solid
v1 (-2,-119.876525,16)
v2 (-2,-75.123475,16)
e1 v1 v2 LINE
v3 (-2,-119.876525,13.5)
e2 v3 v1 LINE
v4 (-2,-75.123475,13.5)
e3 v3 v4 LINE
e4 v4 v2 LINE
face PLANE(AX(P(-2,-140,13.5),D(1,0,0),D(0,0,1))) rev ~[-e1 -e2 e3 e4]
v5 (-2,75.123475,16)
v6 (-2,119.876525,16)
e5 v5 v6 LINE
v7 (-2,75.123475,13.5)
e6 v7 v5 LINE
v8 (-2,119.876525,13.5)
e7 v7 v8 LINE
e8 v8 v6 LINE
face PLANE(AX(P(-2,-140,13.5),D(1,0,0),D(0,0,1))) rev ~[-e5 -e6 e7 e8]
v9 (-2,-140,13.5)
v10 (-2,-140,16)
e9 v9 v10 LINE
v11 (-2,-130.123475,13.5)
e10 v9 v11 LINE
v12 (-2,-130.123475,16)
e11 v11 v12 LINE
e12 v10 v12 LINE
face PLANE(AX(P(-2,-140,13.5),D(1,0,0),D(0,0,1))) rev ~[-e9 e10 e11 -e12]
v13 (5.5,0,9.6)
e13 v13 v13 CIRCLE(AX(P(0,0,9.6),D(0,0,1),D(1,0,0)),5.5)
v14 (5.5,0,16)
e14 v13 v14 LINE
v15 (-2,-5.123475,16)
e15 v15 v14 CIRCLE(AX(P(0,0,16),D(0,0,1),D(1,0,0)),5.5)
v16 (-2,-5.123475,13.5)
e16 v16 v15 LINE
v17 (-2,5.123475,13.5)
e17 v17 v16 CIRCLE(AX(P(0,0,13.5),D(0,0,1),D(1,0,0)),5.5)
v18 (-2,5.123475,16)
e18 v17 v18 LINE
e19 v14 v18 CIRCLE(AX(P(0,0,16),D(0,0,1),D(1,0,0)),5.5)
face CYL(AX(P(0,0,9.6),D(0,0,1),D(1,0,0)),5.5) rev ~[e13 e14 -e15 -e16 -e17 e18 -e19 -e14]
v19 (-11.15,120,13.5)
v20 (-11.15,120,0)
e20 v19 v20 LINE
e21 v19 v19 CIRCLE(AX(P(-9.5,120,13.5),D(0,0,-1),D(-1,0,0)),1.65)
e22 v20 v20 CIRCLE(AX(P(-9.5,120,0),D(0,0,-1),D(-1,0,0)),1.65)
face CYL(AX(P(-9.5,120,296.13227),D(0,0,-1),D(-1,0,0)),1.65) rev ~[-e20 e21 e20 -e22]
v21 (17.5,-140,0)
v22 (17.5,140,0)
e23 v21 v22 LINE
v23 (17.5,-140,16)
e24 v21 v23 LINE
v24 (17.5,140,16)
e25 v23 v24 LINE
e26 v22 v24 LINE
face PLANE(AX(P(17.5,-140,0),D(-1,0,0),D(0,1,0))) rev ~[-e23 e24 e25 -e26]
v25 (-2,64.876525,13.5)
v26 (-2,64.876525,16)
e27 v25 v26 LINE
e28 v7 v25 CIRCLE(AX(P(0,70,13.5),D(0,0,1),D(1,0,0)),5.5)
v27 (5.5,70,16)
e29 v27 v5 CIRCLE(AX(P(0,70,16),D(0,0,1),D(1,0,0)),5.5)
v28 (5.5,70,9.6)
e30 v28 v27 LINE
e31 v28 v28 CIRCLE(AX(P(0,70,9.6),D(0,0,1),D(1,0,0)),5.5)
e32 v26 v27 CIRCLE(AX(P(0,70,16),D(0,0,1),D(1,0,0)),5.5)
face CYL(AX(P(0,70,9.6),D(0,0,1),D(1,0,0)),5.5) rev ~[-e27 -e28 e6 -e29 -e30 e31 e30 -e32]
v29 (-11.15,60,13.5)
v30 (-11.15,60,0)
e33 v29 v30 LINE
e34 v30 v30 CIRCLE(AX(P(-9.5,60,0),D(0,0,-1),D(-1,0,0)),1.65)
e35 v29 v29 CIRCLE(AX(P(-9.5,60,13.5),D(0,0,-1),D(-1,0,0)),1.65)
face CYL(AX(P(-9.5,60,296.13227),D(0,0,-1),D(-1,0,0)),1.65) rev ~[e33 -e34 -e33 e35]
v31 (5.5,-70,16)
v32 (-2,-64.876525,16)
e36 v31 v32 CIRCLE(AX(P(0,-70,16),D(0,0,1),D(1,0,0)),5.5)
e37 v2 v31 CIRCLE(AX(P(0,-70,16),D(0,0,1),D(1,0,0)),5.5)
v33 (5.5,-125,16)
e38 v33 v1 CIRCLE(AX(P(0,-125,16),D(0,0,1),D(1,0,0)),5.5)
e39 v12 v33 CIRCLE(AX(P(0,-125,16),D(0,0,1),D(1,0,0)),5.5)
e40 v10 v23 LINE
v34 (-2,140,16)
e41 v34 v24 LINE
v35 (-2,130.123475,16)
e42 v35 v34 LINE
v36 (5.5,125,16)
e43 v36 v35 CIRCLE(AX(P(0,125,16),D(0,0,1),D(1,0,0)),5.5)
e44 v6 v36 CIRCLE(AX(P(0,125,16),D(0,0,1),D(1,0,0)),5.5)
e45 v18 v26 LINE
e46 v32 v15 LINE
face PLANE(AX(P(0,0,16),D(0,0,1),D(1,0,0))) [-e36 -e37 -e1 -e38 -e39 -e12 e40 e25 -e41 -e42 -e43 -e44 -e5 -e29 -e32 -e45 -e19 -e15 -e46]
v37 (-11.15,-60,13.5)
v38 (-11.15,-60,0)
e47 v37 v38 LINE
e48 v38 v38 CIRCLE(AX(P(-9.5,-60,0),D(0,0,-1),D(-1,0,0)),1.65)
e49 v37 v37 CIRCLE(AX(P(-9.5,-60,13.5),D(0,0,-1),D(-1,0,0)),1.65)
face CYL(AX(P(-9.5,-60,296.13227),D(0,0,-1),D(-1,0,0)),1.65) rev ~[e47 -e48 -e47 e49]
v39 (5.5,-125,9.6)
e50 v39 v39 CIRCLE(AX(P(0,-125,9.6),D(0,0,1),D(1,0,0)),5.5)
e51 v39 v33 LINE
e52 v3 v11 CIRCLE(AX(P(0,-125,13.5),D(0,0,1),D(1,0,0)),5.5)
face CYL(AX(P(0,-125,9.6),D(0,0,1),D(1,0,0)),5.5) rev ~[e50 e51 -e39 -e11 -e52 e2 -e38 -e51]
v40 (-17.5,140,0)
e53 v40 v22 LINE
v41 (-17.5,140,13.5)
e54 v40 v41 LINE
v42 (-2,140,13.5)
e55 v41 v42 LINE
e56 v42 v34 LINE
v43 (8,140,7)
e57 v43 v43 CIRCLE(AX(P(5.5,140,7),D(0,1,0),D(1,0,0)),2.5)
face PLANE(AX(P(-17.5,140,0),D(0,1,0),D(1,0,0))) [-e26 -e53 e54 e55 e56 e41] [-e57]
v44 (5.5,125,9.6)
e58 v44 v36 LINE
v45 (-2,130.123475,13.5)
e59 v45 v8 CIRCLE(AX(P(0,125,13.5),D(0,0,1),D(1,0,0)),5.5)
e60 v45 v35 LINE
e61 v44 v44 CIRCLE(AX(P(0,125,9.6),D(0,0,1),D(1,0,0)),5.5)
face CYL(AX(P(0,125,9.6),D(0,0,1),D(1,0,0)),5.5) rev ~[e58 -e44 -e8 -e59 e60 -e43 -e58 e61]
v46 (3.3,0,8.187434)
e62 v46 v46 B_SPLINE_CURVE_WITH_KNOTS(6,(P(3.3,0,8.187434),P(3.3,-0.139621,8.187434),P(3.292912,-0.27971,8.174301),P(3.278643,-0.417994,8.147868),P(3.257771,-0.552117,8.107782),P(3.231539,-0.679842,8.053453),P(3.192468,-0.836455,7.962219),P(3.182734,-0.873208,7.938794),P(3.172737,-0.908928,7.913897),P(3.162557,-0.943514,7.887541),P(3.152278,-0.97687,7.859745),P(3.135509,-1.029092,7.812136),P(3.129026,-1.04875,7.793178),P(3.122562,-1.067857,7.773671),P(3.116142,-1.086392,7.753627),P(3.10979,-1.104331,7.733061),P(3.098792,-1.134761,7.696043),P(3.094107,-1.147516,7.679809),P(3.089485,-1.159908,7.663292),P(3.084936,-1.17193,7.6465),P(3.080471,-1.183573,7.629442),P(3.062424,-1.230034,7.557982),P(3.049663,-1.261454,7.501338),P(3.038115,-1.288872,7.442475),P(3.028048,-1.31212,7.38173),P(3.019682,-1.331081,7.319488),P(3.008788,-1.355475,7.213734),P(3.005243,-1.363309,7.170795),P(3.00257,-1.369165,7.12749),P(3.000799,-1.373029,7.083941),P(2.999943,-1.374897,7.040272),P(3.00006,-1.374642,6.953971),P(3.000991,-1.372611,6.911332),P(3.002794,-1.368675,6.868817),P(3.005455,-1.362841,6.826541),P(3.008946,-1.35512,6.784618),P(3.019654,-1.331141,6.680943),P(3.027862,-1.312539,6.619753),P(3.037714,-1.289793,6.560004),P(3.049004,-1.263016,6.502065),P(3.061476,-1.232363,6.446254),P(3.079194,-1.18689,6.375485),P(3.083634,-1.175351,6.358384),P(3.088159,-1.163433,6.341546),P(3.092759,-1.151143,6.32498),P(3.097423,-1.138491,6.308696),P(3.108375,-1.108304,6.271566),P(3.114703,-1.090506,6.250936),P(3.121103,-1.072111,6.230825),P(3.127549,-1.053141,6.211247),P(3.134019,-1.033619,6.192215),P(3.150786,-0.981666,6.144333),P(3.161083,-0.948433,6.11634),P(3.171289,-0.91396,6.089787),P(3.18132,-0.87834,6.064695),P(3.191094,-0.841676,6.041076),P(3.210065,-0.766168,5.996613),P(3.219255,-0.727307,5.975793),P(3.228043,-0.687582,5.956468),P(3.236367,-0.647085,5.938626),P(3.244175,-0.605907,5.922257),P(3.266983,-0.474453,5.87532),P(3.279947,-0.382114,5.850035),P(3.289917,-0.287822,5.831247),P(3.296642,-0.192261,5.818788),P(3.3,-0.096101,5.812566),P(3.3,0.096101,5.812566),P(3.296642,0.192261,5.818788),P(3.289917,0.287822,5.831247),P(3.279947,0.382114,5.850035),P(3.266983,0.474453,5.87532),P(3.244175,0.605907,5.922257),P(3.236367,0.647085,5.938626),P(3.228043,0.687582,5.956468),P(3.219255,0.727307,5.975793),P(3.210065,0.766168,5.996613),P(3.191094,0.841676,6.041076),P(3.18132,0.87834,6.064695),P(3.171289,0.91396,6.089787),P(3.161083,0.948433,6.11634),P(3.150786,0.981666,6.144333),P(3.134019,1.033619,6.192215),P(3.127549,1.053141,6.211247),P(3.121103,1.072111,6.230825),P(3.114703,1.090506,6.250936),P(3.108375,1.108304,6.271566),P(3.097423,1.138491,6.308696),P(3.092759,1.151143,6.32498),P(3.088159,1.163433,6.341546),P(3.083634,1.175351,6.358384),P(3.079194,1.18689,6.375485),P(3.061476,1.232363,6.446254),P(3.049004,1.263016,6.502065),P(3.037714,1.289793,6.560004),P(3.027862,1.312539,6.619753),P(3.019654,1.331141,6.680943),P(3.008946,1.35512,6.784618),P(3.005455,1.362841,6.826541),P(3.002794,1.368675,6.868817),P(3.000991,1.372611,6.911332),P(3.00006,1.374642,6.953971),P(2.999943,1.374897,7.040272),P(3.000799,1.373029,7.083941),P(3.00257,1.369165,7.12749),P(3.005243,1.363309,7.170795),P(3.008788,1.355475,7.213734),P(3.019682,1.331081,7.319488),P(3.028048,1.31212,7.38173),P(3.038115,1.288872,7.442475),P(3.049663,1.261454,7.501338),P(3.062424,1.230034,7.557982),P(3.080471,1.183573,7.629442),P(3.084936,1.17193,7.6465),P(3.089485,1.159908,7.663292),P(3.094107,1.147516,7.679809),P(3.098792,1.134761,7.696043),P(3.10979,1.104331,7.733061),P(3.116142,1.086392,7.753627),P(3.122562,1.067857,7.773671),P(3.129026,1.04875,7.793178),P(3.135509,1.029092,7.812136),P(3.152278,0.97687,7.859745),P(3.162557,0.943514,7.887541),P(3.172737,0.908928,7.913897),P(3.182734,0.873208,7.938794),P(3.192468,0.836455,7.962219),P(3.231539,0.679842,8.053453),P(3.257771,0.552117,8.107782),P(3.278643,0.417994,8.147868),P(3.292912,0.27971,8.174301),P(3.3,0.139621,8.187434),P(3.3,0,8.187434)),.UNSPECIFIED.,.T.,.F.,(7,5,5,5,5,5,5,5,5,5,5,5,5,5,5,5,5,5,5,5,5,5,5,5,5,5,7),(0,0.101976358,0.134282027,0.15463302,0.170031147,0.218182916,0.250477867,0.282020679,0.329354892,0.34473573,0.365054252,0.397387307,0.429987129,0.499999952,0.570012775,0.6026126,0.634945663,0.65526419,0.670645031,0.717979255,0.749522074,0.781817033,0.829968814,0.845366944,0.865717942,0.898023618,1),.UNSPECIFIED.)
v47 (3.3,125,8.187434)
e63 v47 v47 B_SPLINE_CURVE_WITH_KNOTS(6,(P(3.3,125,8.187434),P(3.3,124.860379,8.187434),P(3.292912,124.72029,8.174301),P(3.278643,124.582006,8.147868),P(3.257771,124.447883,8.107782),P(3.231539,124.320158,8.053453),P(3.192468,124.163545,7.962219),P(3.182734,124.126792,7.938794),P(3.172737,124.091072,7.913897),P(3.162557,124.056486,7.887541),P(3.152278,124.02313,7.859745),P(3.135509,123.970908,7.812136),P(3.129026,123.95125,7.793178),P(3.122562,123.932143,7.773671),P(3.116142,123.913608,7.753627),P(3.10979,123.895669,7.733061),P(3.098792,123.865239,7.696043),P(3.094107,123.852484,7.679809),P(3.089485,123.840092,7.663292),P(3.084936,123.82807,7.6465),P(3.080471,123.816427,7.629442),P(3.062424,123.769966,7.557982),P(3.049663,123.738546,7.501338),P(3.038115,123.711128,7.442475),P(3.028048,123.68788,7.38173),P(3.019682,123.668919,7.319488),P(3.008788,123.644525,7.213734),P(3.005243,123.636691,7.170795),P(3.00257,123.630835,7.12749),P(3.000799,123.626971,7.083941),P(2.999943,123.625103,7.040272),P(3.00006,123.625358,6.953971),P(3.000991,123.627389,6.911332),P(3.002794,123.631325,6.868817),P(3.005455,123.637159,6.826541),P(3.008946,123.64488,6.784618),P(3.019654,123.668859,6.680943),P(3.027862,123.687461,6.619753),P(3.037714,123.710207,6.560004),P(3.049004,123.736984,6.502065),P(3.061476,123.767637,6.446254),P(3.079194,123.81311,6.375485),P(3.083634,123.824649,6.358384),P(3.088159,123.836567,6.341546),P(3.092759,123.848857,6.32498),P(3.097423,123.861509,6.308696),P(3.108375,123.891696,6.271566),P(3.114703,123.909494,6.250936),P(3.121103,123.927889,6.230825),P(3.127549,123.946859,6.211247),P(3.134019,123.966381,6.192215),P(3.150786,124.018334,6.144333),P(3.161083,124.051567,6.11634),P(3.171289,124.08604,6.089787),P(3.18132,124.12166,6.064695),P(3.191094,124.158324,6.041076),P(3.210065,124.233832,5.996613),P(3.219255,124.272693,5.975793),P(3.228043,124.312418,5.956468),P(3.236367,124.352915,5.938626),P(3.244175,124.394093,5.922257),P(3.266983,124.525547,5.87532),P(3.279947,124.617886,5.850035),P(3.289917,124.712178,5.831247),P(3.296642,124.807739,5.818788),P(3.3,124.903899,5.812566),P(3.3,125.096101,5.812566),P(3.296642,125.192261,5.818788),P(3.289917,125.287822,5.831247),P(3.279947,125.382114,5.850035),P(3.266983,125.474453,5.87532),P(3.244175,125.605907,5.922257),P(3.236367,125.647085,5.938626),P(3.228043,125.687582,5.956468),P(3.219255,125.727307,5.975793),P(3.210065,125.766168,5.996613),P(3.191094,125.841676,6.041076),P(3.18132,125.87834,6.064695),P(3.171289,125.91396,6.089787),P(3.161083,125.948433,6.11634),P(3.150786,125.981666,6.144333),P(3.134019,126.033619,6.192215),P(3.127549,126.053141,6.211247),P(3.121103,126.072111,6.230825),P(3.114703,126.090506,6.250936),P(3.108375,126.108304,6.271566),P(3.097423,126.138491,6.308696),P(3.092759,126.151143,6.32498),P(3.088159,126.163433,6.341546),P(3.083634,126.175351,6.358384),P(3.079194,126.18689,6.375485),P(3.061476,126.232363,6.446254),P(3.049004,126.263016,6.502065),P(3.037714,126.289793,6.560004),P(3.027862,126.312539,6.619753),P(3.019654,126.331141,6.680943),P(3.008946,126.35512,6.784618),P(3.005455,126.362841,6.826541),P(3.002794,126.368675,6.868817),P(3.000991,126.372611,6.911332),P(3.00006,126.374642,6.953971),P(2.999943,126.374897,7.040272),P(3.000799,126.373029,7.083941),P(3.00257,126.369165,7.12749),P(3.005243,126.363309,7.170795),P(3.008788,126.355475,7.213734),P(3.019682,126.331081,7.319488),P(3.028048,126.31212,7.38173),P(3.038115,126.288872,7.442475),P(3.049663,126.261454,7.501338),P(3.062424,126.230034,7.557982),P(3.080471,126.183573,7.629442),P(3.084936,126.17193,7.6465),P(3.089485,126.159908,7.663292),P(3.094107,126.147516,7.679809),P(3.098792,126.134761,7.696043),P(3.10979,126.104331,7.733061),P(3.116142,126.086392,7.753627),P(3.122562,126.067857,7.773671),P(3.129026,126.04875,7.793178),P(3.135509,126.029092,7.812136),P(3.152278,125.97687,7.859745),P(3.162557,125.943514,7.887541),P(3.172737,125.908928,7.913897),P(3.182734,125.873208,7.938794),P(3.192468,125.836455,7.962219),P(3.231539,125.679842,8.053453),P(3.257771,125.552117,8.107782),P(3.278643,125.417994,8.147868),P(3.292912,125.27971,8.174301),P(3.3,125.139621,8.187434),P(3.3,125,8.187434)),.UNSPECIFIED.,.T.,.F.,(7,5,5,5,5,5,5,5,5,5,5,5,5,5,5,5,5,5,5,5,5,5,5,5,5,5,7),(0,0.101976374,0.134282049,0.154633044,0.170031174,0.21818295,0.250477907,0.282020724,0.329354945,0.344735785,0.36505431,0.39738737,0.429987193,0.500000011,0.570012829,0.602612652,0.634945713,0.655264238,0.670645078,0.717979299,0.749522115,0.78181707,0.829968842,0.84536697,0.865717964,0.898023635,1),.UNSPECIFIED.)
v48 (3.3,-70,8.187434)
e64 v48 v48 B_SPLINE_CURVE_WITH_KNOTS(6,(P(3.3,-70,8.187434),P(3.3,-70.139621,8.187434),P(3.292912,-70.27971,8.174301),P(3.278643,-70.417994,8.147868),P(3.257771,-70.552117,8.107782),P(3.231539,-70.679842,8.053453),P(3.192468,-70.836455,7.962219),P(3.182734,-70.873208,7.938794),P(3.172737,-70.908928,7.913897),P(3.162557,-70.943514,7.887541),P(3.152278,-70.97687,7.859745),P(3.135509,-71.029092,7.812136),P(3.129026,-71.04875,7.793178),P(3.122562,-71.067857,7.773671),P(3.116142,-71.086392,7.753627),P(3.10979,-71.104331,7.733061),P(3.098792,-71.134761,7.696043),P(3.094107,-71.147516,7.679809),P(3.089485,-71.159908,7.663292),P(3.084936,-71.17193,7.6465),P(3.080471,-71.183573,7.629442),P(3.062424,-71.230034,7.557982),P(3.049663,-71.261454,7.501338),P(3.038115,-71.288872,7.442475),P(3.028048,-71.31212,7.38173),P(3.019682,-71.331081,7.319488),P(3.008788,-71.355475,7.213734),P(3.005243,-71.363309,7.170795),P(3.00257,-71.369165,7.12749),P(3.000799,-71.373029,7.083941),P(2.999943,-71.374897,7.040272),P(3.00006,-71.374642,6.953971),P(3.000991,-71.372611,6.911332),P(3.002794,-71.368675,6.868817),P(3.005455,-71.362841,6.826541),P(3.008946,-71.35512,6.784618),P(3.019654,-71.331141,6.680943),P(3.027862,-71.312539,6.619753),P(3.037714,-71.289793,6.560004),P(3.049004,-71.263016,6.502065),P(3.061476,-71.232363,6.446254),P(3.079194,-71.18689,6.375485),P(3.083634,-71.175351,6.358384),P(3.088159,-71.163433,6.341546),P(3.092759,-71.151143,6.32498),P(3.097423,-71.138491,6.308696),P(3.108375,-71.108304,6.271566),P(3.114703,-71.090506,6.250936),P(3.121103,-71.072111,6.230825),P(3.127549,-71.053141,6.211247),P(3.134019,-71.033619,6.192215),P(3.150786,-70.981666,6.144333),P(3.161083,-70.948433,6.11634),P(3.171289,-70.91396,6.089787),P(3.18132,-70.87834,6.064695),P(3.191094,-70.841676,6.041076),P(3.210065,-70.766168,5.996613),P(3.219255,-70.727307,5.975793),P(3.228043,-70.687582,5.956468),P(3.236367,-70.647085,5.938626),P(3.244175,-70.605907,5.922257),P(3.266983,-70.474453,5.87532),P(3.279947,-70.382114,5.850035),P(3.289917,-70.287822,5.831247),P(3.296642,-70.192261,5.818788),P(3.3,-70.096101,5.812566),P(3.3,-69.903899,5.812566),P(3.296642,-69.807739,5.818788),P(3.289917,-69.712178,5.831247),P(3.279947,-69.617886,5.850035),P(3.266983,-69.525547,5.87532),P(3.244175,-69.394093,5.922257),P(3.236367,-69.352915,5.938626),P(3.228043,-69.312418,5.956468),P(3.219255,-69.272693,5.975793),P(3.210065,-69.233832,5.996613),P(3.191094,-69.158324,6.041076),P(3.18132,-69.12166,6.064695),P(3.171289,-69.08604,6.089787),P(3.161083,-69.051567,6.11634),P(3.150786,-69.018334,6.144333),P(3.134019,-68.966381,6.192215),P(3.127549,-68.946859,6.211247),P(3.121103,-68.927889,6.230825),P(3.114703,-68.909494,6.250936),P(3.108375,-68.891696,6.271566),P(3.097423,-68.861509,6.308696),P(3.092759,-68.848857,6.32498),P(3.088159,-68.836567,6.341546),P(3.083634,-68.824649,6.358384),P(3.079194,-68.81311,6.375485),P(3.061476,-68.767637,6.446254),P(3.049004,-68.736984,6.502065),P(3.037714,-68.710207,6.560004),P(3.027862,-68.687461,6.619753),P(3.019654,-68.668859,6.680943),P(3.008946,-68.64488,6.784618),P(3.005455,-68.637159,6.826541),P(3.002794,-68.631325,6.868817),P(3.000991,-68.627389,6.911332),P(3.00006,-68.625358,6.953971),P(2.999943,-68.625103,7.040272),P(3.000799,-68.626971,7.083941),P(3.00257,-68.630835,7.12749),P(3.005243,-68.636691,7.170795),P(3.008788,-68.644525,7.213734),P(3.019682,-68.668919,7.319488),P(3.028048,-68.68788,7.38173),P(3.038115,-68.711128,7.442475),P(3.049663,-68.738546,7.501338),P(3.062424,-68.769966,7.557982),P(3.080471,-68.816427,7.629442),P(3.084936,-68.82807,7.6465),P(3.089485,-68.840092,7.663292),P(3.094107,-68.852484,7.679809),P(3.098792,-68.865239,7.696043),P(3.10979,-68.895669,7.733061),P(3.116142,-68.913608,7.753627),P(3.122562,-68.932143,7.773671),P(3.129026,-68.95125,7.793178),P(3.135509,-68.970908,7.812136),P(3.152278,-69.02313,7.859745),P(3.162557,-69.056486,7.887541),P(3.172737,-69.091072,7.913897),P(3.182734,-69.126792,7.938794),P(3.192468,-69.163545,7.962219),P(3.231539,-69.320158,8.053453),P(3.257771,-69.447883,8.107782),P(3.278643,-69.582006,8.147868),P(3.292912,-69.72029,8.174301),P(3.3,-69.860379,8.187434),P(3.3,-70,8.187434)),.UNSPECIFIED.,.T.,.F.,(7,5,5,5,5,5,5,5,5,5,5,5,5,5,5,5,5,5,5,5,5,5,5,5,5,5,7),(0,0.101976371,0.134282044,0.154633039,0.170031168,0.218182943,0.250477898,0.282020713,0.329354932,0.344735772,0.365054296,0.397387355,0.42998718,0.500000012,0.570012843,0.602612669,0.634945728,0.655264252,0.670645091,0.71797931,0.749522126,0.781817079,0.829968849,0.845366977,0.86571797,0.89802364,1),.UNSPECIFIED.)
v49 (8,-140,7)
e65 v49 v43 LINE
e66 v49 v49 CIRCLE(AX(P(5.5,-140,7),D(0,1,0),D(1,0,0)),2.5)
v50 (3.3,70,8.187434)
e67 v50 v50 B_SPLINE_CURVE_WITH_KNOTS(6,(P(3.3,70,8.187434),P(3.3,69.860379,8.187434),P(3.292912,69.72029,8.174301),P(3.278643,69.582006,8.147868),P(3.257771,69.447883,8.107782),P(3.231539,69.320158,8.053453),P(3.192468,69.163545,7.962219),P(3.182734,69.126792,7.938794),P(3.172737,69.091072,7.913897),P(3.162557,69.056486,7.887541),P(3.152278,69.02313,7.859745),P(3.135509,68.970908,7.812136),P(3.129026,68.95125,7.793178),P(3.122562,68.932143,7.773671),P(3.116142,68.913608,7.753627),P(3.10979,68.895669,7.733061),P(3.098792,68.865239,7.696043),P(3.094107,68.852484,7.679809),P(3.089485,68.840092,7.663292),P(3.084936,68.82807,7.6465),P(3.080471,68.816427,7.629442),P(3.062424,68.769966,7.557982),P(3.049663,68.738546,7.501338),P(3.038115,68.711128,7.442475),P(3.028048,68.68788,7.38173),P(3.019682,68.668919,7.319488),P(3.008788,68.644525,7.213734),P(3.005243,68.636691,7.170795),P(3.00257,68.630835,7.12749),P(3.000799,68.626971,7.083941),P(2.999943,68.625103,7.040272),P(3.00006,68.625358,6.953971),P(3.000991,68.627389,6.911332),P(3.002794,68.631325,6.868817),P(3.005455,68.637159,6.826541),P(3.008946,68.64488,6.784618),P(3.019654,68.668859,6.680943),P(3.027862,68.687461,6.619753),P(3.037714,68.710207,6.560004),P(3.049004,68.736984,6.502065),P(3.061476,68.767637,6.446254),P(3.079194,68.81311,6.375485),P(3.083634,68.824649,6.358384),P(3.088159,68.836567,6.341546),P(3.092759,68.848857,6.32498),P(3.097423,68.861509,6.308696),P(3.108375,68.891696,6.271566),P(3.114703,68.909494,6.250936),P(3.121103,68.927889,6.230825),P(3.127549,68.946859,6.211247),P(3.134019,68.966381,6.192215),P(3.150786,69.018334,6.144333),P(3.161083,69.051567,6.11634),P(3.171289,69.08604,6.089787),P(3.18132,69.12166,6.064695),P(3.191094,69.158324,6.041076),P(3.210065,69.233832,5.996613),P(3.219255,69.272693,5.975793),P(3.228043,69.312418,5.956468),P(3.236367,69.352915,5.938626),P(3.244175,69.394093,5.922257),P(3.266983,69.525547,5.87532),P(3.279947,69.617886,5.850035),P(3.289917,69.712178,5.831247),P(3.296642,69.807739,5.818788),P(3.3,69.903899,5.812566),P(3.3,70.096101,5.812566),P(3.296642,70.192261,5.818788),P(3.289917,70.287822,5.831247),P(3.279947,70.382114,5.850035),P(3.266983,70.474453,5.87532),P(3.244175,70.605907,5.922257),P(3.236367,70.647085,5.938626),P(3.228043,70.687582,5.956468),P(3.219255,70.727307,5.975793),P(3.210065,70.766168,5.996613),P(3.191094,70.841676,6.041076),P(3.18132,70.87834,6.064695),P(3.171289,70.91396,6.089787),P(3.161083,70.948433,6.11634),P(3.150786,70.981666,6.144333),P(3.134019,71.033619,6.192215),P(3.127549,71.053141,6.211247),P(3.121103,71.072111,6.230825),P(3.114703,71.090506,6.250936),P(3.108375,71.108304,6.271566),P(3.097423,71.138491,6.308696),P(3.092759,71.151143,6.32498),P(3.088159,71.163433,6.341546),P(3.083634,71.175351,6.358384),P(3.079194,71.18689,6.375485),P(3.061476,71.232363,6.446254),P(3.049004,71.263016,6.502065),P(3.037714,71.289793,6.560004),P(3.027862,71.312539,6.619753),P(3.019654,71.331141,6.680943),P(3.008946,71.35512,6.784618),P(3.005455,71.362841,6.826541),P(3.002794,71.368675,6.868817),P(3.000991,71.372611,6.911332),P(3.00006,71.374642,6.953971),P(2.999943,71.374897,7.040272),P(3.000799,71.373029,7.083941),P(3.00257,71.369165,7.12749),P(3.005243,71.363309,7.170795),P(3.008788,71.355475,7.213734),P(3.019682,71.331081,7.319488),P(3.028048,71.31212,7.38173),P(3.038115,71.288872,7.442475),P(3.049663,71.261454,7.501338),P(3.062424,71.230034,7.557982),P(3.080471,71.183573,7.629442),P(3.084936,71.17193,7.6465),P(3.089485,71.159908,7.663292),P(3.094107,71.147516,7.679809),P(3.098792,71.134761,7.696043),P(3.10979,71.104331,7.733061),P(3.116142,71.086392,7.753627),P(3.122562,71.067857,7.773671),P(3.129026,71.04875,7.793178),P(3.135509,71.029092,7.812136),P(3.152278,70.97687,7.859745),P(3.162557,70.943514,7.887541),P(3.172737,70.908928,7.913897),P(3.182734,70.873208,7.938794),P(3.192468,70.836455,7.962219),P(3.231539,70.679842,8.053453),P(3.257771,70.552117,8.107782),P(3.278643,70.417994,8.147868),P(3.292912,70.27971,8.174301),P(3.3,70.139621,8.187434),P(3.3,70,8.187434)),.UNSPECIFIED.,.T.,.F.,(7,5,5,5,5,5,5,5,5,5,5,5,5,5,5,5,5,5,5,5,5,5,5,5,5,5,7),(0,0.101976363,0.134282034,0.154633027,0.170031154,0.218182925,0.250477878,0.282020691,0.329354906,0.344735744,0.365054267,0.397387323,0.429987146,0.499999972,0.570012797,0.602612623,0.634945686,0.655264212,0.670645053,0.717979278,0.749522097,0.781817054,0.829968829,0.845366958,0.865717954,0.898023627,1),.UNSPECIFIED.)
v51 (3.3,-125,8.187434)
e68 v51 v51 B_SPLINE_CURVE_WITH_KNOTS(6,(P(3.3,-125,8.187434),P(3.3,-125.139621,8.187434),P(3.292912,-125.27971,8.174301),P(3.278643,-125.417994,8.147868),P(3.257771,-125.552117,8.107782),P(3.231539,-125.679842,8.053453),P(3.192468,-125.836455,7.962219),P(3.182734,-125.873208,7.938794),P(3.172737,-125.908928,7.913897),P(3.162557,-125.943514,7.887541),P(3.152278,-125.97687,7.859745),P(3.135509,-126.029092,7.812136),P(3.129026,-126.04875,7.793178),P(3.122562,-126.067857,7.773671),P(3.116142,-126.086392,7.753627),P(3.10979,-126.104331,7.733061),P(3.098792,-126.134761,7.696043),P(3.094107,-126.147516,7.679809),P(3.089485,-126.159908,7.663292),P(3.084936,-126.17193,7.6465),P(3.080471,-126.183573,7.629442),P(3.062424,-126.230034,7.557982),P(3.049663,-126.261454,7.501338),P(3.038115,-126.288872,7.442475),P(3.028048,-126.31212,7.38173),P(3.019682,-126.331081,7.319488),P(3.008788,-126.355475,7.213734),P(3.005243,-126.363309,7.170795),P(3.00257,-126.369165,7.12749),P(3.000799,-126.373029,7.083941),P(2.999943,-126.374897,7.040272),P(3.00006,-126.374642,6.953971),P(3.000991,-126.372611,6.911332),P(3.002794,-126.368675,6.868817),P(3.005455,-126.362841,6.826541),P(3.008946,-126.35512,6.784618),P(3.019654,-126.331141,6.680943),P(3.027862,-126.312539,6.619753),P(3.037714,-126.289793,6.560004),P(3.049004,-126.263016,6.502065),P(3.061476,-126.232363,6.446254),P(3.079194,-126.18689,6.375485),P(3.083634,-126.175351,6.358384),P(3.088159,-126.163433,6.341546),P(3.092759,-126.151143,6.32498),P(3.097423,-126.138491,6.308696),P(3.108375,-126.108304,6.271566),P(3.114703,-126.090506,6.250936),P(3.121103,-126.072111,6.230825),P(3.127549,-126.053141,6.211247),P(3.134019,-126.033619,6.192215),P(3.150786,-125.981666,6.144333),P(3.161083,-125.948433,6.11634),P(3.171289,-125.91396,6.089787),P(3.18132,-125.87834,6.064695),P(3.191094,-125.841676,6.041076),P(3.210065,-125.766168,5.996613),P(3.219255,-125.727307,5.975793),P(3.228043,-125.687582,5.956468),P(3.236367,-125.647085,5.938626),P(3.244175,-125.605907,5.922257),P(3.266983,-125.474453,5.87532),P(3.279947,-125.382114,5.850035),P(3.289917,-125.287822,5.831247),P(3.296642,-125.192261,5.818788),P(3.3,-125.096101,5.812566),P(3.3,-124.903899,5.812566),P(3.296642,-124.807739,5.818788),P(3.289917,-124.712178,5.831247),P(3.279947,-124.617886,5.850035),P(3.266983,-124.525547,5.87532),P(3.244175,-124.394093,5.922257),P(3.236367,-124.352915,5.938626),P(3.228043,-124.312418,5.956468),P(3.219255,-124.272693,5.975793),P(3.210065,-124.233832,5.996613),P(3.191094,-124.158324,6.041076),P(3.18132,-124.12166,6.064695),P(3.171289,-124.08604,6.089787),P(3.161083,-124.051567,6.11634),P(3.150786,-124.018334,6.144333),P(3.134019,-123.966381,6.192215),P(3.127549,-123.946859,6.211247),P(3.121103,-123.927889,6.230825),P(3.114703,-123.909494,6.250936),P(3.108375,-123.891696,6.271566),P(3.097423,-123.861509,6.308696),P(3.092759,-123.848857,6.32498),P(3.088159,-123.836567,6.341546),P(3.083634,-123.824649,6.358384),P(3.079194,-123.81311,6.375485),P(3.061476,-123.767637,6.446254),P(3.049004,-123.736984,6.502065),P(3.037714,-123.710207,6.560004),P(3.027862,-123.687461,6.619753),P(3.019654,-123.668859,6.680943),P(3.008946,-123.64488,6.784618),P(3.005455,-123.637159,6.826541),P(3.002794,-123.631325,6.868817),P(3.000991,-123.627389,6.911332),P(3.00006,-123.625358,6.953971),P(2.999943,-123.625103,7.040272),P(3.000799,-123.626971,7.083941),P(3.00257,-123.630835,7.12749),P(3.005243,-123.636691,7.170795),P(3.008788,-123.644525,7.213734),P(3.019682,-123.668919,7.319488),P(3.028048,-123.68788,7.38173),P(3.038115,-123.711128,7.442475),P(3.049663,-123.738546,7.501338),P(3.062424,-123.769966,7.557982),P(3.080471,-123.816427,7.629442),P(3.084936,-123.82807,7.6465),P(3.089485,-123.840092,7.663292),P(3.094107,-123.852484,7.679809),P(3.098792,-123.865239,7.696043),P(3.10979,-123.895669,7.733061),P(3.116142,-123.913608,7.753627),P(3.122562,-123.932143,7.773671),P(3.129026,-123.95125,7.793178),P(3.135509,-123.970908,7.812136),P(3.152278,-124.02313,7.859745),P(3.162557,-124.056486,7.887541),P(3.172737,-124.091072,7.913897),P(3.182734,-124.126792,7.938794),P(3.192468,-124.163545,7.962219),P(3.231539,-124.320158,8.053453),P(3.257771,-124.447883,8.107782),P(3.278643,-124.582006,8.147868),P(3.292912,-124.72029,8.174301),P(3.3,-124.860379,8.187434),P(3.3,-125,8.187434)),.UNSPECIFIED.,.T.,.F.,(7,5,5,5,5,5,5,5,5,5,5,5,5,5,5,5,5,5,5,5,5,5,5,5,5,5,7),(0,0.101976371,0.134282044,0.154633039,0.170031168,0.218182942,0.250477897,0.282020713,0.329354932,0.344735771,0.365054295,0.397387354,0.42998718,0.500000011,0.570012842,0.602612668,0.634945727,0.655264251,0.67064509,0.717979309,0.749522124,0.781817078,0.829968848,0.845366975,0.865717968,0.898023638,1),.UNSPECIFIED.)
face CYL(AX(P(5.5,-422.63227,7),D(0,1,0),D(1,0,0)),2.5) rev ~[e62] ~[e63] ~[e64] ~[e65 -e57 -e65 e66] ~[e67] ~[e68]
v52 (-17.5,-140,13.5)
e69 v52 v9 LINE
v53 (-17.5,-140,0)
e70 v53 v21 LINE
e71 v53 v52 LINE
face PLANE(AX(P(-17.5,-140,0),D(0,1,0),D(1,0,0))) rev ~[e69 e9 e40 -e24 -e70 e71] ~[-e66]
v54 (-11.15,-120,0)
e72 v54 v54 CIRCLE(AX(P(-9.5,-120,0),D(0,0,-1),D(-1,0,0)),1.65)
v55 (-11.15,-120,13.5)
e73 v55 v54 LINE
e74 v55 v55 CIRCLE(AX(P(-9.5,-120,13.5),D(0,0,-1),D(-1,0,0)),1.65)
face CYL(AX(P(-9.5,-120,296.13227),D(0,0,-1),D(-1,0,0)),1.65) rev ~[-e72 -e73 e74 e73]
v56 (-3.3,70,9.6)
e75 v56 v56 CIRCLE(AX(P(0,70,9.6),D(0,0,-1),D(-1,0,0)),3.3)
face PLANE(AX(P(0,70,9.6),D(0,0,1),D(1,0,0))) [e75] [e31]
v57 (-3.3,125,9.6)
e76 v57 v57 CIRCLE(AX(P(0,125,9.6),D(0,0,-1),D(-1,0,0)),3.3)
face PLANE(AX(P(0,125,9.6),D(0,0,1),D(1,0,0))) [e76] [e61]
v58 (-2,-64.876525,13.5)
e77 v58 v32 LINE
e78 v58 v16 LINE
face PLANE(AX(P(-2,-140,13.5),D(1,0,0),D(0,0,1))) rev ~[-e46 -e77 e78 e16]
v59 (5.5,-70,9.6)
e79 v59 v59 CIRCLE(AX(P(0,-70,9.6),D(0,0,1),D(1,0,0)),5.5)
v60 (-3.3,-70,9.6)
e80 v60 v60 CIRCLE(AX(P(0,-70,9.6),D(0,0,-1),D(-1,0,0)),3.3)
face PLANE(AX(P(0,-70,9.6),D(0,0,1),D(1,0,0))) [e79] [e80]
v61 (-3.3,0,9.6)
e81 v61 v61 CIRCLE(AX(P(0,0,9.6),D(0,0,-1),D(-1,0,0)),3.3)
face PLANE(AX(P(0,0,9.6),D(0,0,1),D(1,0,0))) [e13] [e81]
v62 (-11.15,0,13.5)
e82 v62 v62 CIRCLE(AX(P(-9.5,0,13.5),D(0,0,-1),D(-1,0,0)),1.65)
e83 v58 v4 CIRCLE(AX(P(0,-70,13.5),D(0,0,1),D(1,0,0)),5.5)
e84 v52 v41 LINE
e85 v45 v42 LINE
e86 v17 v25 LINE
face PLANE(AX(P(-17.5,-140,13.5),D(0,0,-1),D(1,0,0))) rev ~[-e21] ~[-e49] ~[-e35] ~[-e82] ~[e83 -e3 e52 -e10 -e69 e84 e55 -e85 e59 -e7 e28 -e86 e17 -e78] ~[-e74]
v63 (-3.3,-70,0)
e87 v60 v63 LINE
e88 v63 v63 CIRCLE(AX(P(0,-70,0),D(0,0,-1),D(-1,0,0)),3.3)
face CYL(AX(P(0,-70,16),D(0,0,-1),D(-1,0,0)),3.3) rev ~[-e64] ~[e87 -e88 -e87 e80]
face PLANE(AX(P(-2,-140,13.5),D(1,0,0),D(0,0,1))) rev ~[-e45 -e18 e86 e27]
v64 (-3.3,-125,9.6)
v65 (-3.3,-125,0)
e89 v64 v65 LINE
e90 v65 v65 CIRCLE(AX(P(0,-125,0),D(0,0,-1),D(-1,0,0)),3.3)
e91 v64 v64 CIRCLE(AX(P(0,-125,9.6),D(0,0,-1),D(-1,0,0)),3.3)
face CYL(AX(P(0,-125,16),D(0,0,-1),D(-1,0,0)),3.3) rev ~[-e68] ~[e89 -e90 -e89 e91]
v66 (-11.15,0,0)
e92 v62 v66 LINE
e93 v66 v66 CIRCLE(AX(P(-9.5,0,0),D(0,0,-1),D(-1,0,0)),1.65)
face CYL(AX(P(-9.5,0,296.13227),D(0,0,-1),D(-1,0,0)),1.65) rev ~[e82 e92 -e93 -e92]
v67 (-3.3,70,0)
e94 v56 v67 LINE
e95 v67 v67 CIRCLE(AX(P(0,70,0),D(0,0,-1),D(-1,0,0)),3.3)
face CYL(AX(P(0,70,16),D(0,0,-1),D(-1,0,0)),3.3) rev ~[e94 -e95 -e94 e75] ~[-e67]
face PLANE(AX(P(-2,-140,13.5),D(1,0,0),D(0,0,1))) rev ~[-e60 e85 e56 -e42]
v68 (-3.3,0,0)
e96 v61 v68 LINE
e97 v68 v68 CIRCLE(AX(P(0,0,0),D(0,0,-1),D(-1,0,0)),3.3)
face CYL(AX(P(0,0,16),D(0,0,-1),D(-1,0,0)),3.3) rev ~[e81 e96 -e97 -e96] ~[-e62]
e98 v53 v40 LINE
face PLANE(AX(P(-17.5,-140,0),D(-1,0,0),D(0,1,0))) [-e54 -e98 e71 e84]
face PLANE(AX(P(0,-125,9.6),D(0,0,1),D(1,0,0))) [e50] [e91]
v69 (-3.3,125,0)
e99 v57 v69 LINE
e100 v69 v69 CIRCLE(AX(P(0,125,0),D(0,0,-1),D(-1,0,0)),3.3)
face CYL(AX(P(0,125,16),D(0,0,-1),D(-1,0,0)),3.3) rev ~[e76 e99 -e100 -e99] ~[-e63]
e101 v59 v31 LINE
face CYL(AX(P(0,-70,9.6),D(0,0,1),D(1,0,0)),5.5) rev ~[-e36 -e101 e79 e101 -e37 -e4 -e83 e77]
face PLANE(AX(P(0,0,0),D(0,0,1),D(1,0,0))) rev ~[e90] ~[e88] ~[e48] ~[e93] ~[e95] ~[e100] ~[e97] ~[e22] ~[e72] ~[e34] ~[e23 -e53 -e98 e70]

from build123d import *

# Parameters (mm, degrees)
SKETCH1_W                                           = 35
SKETCH1_H                                           = 280
EXTRUDE1_DEPTH                                      = 16
EXTRUDE2_REACH                                      = 282
SKETCH2_W                                           = 15.5
SKETCH2_H                                           = 2.5
M4_TAPPED_HOLE1_D                                   = 3.3
M6_TAPPED_HOLE1_D                                   = 5
CBORE_FOR_M6_HEX_SOCKET_HEAD_CAP_SCREW1_D           = 6.6
CBORE_FOR_M6_HEX_SOCKET_HEAD_CAP_SCREW1_DEPTH       = 29
CBORE_FOR_M6_HEX_SOCKET_HEAD_CAP_SCREW1_CBORE_D     = 11
CBORE_FOR_M6_HEX_SOCKET_HEAD_CAP_SCREW1_CBORE_DEPTH = 6.4
CBORE_FOR_M6_HEX_SOCKET_HEAD_CAP_SCREW1_TIP         = 1.982840043


with BuildPart() as part:
    # Sketch1 → Extrude1 (new body)
    with BuildSketch(Plane.XY):
        Rectangle(SKETCH1_W, SKETCH1_H)
    extrude(amount=EXTRUDE1_DEPTH)

    # Sketch2 → Extrude2 (cut, up to next)
    with BuildSketch(Plane.XZ.offset(140), mode=Mode.PRIVATE) as extrude2_sk1:
        with Locations((-9.75, 14.75)):
            Rectangle(SKETCH2_W, SKETCH2_H)
    extrude2_tool1 = extrude(extrude2_sk1.sketch, amount=-EXTRUDE2_REACH, mode=Mode.PRIVATE) & part.part
    add(extrude2_tool1.solids().sort_by_distance((-9.75, -140, 14.75))[0], mode=Mode.SUBTRACT)

    # M4 Tapped Hole1 (through all)
    with Locations(Plane.XY.offset(13.5)):
        with Locations((-9.5, -120), (-9.5, -60), (-9.5, 0), (-9.5, 60), (-9.5, 120)):
            Hole(M4_TAPPED_HOLE1_D / 2)

    # M6 Tapped Hole1 (through all)
    with Locations(Plane(origin=(0, -140, 0), x_dir=(-1, 0, 0), z_dir=(0, -1, 0))):
        with Locations((-5.5, -7)):
            Hole(M6_TAPPED_HOLE1_D / 2)

    # CBORE for M6 Hex Socket Head Cap Screw1
    with Locations(Plane.XY.offset(16)):
        with Locations((0, 125), (0, 70), (0, 0), (0, -70), (0, -125)):
            CounterBoreHole(CBORE_FOR_M6_HEX_SOCKET_HEAD_CAP_SCREW1_D / 2, CBORE_FOR_M6_HEX_SOCKET_HEAD_CAP_SCREW1_CBORE_D / 2, CBORE_FOR_M6_HEX_SOCKET_HEAD_CAP_SCREW1_CBORE_DEPTH, depth=CBORE_FOR_M6_HEX_SOCKET_HEAD_CAP_SCREW1_DEPTH)
            with Locations((0, 0, -(CBORE_FOR_M6_HEX_SOCKET_HEAD_CAP_SCREW1_DEPTH + CBORE_FOR_M6_HEX_SOCKET_HEAD_CAP_SCREW1_TIP / 2))):  # 118° drill point
                Cone(0, CBORE_FOR_M6_HEX_SOCKET_HEAD_CAP_SCREW1_D / 2, CBORE_FOR_M6_HEX_SOCKET_HEAD_CAP_SCREW1_TIP, mode=Mode.SUBTRACT)


solid = part.part
